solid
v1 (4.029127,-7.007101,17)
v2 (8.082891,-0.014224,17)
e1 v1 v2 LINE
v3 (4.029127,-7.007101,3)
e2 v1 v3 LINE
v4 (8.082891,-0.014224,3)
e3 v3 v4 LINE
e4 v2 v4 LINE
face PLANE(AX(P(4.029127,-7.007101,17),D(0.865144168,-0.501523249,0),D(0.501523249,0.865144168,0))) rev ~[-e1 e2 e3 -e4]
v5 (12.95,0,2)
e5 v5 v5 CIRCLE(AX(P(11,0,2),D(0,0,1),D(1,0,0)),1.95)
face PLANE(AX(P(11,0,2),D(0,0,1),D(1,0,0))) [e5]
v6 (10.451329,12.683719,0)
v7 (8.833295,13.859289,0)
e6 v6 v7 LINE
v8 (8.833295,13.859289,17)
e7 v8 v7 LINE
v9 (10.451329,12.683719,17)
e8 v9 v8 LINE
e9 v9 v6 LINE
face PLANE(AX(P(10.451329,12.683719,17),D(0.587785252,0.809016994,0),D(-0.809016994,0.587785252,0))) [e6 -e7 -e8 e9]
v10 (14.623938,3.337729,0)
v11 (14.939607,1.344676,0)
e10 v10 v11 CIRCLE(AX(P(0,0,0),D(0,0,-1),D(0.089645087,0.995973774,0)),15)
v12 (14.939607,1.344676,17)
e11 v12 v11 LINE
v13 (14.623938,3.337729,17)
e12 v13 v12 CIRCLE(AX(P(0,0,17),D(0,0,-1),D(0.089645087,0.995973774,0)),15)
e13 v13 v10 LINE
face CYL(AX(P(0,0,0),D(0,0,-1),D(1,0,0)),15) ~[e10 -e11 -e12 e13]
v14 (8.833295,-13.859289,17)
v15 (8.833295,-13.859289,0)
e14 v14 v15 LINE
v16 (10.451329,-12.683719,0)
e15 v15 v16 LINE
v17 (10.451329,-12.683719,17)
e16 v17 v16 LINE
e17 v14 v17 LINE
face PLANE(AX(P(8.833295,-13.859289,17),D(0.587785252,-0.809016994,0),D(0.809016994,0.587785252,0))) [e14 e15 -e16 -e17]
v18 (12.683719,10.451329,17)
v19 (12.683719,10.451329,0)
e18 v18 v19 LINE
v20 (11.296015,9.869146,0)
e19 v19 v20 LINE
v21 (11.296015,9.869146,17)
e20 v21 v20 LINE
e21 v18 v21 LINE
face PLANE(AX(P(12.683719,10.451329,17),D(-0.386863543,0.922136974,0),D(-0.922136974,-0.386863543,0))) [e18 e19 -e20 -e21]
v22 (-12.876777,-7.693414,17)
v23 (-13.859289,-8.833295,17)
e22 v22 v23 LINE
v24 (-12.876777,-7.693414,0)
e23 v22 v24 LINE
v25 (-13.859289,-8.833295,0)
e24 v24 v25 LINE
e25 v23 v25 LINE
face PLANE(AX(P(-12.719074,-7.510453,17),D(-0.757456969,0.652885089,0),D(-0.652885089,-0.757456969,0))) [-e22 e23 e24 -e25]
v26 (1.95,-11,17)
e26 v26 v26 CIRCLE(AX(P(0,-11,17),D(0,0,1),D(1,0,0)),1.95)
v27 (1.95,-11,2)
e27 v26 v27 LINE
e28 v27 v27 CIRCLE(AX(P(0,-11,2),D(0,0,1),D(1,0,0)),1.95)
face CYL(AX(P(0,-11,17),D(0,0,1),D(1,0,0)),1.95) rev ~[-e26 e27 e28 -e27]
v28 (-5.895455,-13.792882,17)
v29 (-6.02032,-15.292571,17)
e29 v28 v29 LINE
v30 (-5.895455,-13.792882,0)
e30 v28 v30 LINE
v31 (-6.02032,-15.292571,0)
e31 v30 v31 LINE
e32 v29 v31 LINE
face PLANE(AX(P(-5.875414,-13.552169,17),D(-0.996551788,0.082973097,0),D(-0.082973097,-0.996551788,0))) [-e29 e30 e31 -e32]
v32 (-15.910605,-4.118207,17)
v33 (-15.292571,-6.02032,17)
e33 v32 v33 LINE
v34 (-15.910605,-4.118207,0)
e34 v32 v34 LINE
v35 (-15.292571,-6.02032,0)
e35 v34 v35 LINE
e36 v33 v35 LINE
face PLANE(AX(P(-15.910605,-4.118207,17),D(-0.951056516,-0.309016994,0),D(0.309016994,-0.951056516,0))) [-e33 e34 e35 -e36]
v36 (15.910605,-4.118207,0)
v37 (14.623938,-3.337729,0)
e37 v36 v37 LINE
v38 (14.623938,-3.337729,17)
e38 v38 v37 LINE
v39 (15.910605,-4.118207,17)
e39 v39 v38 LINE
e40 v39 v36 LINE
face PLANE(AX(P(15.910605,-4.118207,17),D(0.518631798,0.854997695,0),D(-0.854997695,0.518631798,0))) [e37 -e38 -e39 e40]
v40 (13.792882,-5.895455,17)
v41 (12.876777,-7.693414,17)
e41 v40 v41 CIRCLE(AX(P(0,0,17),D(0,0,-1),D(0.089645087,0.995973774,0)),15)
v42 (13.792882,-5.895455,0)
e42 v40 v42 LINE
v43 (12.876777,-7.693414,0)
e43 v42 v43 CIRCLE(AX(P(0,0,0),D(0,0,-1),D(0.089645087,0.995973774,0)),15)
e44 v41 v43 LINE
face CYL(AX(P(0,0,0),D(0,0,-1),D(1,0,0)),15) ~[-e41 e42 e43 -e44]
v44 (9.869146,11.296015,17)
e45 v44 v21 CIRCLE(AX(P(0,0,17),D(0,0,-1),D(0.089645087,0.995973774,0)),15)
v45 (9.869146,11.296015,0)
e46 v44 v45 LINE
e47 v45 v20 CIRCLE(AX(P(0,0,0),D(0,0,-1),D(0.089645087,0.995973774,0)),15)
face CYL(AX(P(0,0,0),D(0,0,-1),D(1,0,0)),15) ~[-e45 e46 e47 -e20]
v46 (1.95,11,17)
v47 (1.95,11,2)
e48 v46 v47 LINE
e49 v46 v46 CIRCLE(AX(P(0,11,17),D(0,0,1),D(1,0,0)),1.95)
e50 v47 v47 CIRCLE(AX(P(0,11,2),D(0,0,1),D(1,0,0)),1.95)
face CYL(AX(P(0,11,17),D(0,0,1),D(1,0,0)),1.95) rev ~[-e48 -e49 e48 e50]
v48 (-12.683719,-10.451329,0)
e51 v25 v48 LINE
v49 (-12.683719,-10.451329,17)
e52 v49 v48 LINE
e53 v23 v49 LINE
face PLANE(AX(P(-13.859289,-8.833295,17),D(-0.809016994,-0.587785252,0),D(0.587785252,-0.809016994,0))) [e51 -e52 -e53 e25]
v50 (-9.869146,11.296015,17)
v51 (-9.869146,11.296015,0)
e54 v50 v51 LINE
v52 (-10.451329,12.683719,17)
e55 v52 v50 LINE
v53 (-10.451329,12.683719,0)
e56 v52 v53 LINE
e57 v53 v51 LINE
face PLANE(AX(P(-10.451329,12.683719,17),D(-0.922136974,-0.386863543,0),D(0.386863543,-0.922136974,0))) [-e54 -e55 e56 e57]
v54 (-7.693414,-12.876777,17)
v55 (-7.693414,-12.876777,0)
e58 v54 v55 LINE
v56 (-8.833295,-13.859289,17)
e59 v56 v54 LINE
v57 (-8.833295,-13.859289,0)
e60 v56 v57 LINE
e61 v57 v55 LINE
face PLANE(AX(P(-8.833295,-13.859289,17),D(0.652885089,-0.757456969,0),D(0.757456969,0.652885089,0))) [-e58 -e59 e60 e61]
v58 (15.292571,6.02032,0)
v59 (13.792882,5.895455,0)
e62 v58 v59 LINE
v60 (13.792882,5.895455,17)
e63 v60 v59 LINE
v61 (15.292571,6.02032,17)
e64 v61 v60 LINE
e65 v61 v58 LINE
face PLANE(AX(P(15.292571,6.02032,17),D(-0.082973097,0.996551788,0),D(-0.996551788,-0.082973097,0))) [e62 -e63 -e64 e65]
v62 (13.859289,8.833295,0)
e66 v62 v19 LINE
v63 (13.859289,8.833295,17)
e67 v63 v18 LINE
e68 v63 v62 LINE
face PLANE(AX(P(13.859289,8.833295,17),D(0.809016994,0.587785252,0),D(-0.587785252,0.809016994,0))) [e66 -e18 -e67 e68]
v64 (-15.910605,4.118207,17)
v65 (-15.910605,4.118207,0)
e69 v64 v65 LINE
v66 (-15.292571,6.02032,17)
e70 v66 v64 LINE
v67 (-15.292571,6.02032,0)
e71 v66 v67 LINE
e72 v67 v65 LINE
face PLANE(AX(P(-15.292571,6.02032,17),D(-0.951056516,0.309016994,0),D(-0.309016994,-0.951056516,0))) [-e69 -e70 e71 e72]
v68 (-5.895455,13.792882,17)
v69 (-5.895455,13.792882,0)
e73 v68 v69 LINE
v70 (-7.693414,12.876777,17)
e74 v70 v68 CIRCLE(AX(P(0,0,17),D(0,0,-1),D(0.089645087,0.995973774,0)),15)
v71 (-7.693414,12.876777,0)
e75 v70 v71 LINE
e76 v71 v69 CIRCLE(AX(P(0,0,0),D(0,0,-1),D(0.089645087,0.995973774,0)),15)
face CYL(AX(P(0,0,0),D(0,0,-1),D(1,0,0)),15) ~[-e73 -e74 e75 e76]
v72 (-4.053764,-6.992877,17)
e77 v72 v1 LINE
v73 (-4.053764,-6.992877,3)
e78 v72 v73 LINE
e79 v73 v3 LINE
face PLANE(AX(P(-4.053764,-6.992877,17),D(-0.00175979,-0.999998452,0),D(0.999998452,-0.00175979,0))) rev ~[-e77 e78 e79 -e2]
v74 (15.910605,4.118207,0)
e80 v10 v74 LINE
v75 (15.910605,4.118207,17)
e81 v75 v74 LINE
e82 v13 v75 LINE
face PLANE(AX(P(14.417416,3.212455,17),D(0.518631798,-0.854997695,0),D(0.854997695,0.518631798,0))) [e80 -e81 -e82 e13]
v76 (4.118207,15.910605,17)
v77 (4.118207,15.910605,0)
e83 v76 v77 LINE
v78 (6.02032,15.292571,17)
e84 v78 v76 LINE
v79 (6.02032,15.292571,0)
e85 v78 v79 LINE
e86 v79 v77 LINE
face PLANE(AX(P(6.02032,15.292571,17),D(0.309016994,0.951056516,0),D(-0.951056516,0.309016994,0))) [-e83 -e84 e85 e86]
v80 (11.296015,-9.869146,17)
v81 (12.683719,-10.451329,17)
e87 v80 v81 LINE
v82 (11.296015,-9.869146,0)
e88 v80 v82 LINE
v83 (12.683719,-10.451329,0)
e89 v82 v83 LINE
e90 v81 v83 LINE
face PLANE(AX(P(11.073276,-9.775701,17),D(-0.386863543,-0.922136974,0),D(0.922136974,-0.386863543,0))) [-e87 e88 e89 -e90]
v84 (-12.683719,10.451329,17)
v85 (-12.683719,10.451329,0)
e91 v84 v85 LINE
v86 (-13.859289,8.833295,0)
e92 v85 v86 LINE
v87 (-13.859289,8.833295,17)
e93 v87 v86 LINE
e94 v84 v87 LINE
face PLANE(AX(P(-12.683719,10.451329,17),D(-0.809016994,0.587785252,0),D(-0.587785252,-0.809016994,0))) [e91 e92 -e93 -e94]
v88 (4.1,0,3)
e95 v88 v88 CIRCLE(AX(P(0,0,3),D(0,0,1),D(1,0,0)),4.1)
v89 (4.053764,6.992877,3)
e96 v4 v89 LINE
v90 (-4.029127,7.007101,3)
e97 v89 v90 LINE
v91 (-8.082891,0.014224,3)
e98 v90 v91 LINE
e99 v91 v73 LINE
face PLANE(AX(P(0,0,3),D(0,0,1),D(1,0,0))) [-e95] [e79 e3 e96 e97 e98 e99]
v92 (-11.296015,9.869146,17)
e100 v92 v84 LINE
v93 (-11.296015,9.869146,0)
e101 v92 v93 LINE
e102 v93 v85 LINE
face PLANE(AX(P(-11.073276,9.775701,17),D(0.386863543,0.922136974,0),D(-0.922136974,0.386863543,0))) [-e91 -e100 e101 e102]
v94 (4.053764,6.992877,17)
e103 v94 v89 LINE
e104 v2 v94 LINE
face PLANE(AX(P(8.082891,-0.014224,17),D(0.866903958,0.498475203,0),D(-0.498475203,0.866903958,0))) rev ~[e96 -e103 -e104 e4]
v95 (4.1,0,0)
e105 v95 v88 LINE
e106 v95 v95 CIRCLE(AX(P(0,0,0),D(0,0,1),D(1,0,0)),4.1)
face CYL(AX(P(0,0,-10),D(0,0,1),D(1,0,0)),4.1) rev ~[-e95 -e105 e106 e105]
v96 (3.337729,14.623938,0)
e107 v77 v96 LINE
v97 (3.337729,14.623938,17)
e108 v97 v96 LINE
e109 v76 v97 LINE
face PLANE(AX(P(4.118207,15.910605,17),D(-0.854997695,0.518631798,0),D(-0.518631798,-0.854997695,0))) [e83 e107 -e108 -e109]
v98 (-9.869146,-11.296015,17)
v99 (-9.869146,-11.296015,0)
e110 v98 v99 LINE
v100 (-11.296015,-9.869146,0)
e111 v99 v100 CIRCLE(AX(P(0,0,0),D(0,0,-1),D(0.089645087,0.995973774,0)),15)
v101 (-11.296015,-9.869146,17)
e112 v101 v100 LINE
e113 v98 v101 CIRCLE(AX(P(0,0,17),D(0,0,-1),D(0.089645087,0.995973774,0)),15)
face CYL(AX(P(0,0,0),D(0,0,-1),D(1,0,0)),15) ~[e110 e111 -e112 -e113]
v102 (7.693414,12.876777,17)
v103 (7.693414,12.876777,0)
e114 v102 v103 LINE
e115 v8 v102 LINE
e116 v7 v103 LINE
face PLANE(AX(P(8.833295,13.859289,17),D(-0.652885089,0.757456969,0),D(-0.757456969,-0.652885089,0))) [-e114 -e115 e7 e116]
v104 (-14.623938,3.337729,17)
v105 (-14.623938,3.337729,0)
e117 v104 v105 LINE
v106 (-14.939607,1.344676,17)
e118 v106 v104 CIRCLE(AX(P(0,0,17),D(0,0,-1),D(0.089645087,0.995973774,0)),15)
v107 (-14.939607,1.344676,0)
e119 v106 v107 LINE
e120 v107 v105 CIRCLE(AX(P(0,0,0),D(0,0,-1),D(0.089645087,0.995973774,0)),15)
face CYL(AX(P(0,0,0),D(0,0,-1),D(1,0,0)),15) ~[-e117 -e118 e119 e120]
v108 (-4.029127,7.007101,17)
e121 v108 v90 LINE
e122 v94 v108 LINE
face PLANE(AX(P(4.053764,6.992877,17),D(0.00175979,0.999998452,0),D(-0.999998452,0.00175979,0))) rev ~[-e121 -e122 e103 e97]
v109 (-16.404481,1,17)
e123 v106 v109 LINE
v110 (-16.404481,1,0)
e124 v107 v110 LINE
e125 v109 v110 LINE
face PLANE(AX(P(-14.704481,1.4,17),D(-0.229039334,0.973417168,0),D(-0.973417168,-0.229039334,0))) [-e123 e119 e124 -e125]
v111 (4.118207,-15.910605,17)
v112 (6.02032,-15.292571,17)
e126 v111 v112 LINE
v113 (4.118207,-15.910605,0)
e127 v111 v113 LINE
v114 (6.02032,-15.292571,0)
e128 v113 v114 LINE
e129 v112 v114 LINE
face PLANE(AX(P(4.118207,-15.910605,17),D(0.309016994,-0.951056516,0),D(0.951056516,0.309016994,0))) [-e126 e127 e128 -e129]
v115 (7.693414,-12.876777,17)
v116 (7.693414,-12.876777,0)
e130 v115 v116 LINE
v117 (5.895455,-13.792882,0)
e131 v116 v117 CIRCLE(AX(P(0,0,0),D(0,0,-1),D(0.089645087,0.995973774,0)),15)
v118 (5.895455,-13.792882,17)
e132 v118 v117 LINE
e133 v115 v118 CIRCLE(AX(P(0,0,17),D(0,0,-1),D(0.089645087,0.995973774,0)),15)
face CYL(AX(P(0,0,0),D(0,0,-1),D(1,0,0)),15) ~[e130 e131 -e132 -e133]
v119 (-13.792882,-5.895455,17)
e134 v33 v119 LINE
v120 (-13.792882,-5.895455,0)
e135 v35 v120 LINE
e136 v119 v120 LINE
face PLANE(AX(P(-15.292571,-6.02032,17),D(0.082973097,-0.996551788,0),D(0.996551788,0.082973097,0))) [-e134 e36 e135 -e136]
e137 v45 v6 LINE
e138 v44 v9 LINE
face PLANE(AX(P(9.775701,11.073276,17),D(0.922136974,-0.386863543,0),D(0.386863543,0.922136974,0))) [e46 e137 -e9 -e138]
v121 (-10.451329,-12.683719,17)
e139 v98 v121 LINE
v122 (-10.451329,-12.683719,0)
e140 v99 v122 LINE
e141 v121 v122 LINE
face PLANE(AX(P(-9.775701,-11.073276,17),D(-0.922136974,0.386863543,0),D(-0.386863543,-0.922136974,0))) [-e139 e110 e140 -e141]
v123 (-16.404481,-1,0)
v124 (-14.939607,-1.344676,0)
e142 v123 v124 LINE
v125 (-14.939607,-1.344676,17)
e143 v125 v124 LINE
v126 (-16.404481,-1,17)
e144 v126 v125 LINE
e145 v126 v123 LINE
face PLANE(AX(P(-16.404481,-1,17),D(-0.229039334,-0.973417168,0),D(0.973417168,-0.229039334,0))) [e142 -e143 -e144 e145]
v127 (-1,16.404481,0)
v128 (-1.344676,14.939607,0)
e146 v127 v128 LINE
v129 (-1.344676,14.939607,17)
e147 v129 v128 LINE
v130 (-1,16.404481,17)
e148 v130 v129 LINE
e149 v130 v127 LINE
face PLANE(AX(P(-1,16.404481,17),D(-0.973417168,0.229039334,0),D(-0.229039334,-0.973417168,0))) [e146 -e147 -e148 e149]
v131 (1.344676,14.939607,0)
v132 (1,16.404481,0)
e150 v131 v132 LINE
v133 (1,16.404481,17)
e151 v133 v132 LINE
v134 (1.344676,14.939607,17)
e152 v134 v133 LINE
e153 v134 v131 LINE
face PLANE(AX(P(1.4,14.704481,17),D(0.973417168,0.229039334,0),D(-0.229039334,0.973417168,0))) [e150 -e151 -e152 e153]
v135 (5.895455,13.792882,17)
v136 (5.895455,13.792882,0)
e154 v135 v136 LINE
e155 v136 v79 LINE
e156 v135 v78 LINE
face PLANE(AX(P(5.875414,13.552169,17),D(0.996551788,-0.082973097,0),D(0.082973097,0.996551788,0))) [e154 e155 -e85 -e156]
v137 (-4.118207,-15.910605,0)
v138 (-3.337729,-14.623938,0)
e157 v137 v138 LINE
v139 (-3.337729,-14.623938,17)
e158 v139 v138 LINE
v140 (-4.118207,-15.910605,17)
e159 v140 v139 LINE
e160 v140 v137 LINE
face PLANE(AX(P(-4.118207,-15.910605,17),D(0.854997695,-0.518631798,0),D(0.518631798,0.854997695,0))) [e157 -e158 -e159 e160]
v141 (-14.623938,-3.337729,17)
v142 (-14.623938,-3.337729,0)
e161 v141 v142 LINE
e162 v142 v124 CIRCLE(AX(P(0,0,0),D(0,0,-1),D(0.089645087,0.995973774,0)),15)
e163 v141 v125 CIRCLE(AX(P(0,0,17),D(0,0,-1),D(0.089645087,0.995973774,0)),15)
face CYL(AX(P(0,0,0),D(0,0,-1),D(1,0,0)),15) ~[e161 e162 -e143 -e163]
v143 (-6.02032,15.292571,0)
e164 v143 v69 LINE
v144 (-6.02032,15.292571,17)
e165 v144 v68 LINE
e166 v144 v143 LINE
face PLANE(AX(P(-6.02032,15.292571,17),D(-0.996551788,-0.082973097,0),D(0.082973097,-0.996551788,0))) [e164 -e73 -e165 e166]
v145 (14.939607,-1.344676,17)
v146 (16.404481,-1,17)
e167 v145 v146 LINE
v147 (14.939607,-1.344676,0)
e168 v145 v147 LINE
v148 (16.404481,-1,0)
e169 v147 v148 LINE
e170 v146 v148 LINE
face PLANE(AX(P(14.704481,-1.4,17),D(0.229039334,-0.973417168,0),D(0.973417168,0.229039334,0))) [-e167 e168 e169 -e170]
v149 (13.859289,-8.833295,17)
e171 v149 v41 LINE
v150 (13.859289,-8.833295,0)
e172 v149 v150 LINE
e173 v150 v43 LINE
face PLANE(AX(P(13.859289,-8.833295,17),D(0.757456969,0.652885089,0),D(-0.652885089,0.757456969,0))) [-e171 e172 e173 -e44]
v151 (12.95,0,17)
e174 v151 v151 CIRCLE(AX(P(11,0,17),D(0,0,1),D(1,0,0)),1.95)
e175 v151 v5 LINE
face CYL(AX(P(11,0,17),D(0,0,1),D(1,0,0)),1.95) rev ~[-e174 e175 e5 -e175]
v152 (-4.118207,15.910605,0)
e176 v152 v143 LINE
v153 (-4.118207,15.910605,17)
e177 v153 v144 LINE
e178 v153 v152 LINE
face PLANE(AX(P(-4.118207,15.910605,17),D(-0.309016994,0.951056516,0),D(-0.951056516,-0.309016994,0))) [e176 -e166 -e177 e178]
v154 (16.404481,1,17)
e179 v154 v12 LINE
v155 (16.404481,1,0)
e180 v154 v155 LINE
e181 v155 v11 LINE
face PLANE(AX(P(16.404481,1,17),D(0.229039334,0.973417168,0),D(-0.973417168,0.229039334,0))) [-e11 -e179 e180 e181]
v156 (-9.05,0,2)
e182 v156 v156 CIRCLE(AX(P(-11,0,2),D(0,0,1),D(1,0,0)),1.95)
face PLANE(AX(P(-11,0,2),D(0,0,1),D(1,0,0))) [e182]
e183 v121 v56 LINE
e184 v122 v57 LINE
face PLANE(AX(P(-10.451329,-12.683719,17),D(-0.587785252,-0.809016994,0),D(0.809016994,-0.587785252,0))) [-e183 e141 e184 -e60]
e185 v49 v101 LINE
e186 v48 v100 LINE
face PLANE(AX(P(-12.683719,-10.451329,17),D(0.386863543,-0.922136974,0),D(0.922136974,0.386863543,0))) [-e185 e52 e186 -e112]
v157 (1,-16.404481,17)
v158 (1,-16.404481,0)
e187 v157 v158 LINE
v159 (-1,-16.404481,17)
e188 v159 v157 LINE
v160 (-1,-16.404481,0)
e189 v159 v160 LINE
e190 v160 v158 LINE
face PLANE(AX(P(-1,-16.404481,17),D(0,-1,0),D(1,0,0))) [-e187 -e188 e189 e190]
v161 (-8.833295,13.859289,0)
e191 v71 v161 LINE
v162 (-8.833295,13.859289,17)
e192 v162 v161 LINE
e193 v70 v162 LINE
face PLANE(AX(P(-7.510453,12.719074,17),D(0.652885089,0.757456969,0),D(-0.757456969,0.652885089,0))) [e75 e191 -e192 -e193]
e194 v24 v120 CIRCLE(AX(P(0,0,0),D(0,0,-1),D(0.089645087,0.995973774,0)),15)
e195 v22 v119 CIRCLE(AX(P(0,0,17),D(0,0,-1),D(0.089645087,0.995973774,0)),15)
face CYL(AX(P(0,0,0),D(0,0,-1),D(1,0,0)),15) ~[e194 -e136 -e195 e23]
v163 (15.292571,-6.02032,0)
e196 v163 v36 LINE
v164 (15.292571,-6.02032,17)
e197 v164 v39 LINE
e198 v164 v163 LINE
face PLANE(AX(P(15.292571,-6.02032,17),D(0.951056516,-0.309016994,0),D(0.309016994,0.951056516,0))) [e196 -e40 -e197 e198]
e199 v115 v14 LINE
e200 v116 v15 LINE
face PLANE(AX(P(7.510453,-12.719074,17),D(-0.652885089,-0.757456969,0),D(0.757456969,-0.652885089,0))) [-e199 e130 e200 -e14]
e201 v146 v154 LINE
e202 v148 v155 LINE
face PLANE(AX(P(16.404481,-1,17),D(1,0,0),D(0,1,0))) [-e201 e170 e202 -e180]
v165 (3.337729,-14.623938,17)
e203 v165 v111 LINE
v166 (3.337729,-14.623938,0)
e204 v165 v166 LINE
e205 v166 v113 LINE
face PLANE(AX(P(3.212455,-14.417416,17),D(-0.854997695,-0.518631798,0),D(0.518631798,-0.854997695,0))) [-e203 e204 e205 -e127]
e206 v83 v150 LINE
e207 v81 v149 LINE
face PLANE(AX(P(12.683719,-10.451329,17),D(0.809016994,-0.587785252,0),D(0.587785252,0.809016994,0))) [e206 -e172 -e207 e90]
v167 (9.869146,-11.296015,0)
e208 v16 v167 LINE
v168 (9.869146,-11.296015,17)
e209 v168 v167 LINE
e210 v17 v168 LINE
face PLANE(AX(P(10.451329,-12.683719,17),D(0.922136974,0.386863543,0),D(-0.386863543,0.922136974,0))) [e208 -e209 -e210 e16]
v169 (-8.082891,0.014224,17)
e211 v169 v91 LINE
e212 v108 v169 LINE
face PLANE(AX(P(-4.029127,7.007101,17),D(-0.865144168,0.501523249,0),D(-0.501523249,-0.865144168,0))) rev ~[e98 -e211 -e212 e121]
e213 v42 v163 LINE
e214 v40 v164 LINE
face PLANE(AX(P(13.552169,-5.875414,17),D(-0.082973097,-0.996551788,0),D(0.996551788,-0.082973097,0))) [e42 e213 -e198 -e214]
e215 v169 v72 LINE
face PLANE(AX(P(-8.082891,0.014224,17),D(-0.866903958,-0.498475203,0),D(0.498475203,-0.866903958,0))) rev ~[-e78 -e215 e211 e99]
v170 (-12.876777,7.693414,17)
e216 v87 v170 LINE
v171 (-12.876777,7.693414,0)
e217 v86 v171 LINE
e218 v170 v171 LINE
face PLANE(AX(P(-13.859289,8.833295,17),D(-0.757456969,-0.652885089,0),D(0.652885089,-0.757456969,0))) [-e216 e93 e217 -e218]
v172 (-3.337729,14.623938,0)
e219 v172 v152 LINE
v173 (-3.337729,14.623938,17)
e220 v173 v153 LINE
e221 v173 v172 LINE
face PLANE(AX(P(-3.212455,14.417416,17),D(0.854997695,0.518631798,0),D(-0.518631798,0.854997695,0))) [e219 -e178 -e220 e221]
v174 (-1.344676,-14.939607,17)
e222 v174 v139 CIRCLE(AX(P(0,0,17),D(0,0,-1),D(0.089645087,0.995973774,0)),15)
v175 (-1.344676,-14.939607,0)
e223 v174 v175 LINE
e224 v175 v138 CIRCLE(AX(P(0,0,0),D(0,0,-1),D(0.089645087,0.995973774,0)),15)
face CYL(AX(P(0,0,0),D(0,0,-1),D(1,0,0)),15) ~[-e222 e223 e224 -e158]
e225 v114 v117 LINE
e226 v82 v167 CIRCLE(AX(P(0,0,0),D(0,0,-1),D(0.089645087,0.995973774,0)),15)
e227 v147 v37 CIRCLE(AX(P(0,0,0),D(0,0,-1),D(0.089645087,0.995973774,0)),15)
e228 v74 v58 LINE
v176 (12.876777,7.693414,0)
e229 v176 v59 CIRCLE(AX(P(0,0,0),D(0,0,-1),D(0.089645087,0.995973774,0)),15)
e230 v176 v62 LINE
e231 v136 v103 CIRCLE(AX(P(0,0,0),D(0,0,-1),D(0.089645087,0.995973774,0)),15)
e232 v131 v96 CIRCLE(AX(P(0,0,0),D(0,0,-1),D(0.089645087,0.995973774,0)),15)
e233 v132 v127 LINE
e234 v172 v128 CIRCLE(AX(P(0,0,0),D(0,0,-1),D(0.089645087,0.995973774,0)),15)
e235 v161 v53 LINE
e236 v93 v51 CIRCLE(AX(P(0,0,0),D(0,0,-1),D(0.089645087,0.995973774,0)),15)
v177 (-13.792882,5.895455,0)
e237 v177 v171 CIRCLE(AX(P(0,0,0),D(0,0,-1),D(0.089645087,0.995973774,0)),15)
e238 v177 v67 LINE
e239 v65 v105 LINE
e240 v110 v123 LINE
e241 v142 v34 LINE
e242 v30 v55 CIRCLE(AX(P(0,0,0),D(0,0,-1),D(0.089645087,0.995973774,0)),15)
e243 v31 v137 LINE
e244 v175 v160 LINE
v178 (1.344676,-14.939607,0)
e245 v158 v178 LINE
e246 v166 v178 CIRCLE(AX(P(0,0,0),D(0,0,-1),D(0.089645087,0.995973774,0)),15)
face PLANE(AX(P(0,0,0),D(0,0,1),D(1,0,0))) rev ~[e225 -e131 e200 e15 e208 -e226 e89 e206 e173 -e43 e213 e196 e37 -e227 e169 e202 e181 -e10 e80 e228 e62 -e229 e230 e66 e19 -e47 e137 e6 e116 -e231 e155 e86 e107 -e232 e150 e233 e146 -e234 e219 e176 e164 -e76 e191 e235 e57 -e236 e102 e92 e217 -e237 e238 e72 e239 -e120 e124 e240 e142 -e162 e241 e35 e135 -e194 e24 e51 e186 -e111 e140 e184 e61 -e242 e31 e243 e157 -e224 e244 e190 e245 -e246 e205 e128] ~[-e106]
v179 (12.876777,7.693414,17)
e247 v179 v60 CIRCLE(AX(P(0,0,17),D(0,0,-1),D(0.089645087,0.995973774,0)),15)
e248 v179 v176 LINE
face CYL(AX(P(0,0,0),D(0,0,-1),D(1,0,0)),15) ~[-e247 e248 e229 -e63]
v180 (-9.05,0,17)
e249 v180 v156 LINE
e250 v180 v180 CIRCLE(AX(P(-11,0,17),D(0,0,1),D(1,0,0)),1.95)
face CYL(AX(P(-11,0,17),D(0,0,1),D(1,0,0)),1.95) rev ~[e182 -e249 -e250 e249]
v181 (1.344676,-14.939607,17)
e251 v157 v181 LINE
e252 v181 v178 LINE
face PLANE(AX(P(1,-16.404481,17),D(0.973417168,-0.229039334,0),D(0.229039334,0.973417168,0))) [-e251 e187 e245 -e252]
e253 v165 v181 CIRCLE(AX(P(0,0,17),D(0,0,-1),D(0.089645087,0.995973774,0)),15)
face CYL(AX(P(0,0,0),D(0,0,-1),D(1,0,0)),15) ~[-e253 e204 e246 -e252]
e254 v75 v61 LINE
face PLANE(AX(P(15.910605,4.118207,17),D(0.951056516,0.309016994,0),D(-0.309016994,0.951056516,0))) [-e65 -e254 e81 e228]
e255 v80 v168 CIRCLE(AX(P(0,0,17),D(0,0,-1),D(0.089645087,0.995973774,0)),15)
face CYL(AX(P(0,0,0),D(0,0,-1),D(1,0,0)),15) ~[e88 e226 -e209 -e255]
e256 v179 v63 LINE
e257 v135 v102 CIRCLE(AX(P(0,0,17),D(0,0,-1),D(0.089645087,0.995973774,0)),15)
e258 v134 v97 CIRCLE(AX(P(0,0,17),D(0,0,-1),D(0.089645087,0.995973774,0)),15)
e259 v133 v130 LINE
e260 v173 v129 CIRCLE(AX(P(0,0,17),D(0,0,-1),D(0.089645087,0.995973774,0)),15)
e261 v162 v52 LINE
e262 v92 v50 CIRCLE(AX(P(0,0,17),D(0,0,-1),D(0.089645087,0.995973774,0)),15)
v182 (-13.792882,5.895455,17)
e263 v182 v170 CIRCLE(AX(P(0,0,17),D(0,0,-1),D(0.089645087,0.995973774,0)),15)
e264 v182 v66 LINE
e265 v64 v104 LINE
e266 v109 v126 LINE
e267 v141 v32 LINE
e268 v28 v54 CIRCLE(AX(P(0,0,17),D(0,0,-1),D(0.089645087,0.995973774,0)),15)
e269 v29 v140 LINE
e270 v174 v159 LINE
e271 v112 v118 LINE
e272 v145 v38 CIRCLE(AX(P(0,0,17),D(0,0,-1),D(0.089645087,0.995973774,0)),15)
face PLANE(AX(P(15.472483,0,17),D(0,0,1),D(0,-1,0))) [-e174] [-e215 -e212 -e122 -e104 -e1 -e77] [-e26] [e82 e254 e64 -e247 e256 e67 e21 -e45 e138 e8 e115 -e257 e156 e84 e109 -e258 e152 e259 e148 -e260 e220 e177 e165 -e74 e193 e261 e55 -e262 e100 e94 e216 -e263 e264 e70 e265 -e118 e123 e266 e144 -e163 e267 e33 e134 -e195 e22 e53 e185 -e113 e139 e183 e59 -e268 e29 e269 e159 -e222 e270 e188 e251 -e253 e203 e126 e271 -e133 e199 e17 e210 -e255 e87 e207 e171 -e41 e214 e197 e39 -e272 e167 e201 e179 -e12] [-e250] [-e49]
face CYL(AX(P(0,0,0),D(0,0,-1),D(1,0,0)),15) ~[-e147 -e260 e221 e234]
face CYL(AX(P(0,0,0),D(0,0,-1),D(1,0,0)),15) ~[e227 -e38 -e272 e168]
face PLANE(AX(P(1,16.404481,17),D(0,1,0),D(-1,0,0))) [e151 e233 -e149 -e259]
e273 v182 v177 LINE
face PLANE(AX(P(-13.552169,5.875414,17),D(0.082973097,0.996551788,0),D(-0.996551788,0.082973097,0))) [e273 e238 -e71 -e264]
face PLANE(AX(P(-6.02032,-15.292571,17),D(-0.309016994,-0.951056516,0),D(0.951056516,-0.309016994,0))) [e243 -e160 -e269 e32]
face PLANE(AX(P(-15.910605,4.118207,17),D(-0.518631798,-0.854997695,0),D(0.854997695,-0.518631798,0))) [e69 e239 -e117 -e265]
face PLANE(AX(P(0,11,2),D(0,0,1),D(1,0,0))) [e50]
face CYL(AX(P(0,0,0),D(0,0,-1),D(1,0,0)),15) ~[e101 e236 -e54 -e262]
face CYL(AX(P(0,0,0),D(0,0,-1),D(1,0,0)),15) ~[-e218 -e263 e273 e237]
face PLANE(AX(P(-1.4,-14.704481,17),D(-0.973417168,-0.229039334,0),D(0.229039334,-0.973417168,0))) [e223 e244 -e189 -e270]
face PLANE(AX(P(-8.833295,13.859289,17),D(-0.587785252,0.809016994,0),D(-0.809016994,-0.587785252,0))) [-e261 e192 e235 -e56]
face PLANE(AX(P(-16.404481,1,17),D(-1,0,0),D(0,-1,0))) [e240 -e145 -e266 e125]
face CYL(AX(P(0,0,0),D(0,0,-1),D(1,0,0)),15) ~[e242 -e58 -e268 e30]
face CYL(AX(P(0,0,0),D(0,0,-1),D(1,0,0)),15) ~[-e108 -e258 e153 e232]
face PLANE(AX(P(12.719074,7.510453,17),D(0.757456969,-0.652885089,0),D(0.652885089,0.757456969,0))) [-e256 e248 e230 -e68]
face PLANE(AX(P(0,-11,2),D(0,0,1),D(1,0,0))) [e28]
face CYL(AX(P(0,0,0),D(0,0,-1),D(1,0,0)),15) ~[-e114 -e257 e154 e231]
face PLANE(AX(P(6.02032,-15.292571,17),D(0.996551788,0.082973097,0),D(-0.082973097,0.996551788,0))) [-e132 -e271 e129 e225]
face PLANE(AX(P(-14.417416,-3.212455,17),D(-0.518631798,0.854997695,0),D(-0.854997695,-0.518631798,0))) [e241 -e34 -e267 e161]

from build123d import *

# Parameters (mm, degrees)
SKETCH1_R                      = 15
EXTRUDE1_DEPTH                 = 17
EXTRUDE3_DEPTH                 = 17
CIRPATTERN1_COUNT              = 20
F_8_2_8_2_DIAMETER_HOLE1_D     = 8.2
F_8_2_8_2_DIAMETER_HOLE1_DEPTH = 10
F_8_2_8_2_DIAMETER_HOLE1_TIP   = 2.463528538
EXTRUDE5_DEPTH                 = 14
SKETCH7_R                      = 1.95
EXTRUDE6_DEPTH                 = 15


with BuildPart() as part:
    # Sketch1 → Extrude1 (new body)
    with BuildSketch(Plane.XY):
        Circle(SKETCH1_R)
    extrude(amount=EXTRUDE1_DEPTH)

    # Sketch2 → Extrude3 (add)
    with BuildSketch(Plane.XY.offset(17)):
        Polygon((1.4, 14.704480908), (1, 16.404480908), (-1, 16.404480908), (-1.4, 14.704480908), align=None)
    extrude3 = extrude(amount=-EXTRUDE3_DEPTH)

    # CirPattern1: Extrude3 ×20 about axis
    cirpattern1_axis = Axis((0, 0, 0), (0, 0, 1))
    for i in range(1, CIRPATTERN1_COUNT):
        add(extrude3.rotate(cirpattern1_axis, i * 360 / CIRPATTERN1_COUNT))

    # Ø8.2 (8.2) Diameter Hole1
    with Locations(Plane(origin=(0, 0, 0), x_dir=(-1, 0, 0), z_dir=(0, 0, -1))):
        with Locations((0, 0)):
            Hole(F_8_2_8_2_DIAMETER_HOLE1_D / 2, depth=F_8_2_8_2_DIAMETER_HOLE1_DEPTH)
            with Locations((0, 0, -(F_8_2_8_2_DIAMETER_HOLE1_DEPTH + F_8_2_8_2_DIAMETER_HOLE1_TIP / 2))):  # 118° drill point
                Cone(0, F_8_2_8_2_DIAMETER_HOLE1_D / 2, F_8_2_8_2_DIAMETER_HOLE1_TIP, mode=Mode.SUBTRACT)

    # Sketch6 → Extrude5 (cut)
    with BuildSketch(Plane.XY.offset(17)):
        Polygon((4.053764157, 6.992877054), (-4.029127096, 7.007101268), (-8.082891253, 0.014224214), (-4.053764157, -6.992877054), (4.029127096, -7.007101268), (8.082891253, -0.014224214), align=None)
    extrude(amount=-EXTRUDE5_DEPTH, mode=Mode.SUBTRACT)

    # Sketch7 → Extrude6 (cut)
    with BuildSketch(Plane.XY.offset(17)):
        with Locations((-11, 0)):
            Circle(SKETCH7_R)
        with Locations((0, 11)):
            Circle(SKETCH7_R)
        with Locations((11, 0)):
            Circle(SKETCH7_R)
        with Locations((0, -11)):
            Circle(SKETCH7_R)
    extrude(amount=-EXTRUDE6_DEPTH, mode=Mode.SUBTRACT)


solid = part.part
